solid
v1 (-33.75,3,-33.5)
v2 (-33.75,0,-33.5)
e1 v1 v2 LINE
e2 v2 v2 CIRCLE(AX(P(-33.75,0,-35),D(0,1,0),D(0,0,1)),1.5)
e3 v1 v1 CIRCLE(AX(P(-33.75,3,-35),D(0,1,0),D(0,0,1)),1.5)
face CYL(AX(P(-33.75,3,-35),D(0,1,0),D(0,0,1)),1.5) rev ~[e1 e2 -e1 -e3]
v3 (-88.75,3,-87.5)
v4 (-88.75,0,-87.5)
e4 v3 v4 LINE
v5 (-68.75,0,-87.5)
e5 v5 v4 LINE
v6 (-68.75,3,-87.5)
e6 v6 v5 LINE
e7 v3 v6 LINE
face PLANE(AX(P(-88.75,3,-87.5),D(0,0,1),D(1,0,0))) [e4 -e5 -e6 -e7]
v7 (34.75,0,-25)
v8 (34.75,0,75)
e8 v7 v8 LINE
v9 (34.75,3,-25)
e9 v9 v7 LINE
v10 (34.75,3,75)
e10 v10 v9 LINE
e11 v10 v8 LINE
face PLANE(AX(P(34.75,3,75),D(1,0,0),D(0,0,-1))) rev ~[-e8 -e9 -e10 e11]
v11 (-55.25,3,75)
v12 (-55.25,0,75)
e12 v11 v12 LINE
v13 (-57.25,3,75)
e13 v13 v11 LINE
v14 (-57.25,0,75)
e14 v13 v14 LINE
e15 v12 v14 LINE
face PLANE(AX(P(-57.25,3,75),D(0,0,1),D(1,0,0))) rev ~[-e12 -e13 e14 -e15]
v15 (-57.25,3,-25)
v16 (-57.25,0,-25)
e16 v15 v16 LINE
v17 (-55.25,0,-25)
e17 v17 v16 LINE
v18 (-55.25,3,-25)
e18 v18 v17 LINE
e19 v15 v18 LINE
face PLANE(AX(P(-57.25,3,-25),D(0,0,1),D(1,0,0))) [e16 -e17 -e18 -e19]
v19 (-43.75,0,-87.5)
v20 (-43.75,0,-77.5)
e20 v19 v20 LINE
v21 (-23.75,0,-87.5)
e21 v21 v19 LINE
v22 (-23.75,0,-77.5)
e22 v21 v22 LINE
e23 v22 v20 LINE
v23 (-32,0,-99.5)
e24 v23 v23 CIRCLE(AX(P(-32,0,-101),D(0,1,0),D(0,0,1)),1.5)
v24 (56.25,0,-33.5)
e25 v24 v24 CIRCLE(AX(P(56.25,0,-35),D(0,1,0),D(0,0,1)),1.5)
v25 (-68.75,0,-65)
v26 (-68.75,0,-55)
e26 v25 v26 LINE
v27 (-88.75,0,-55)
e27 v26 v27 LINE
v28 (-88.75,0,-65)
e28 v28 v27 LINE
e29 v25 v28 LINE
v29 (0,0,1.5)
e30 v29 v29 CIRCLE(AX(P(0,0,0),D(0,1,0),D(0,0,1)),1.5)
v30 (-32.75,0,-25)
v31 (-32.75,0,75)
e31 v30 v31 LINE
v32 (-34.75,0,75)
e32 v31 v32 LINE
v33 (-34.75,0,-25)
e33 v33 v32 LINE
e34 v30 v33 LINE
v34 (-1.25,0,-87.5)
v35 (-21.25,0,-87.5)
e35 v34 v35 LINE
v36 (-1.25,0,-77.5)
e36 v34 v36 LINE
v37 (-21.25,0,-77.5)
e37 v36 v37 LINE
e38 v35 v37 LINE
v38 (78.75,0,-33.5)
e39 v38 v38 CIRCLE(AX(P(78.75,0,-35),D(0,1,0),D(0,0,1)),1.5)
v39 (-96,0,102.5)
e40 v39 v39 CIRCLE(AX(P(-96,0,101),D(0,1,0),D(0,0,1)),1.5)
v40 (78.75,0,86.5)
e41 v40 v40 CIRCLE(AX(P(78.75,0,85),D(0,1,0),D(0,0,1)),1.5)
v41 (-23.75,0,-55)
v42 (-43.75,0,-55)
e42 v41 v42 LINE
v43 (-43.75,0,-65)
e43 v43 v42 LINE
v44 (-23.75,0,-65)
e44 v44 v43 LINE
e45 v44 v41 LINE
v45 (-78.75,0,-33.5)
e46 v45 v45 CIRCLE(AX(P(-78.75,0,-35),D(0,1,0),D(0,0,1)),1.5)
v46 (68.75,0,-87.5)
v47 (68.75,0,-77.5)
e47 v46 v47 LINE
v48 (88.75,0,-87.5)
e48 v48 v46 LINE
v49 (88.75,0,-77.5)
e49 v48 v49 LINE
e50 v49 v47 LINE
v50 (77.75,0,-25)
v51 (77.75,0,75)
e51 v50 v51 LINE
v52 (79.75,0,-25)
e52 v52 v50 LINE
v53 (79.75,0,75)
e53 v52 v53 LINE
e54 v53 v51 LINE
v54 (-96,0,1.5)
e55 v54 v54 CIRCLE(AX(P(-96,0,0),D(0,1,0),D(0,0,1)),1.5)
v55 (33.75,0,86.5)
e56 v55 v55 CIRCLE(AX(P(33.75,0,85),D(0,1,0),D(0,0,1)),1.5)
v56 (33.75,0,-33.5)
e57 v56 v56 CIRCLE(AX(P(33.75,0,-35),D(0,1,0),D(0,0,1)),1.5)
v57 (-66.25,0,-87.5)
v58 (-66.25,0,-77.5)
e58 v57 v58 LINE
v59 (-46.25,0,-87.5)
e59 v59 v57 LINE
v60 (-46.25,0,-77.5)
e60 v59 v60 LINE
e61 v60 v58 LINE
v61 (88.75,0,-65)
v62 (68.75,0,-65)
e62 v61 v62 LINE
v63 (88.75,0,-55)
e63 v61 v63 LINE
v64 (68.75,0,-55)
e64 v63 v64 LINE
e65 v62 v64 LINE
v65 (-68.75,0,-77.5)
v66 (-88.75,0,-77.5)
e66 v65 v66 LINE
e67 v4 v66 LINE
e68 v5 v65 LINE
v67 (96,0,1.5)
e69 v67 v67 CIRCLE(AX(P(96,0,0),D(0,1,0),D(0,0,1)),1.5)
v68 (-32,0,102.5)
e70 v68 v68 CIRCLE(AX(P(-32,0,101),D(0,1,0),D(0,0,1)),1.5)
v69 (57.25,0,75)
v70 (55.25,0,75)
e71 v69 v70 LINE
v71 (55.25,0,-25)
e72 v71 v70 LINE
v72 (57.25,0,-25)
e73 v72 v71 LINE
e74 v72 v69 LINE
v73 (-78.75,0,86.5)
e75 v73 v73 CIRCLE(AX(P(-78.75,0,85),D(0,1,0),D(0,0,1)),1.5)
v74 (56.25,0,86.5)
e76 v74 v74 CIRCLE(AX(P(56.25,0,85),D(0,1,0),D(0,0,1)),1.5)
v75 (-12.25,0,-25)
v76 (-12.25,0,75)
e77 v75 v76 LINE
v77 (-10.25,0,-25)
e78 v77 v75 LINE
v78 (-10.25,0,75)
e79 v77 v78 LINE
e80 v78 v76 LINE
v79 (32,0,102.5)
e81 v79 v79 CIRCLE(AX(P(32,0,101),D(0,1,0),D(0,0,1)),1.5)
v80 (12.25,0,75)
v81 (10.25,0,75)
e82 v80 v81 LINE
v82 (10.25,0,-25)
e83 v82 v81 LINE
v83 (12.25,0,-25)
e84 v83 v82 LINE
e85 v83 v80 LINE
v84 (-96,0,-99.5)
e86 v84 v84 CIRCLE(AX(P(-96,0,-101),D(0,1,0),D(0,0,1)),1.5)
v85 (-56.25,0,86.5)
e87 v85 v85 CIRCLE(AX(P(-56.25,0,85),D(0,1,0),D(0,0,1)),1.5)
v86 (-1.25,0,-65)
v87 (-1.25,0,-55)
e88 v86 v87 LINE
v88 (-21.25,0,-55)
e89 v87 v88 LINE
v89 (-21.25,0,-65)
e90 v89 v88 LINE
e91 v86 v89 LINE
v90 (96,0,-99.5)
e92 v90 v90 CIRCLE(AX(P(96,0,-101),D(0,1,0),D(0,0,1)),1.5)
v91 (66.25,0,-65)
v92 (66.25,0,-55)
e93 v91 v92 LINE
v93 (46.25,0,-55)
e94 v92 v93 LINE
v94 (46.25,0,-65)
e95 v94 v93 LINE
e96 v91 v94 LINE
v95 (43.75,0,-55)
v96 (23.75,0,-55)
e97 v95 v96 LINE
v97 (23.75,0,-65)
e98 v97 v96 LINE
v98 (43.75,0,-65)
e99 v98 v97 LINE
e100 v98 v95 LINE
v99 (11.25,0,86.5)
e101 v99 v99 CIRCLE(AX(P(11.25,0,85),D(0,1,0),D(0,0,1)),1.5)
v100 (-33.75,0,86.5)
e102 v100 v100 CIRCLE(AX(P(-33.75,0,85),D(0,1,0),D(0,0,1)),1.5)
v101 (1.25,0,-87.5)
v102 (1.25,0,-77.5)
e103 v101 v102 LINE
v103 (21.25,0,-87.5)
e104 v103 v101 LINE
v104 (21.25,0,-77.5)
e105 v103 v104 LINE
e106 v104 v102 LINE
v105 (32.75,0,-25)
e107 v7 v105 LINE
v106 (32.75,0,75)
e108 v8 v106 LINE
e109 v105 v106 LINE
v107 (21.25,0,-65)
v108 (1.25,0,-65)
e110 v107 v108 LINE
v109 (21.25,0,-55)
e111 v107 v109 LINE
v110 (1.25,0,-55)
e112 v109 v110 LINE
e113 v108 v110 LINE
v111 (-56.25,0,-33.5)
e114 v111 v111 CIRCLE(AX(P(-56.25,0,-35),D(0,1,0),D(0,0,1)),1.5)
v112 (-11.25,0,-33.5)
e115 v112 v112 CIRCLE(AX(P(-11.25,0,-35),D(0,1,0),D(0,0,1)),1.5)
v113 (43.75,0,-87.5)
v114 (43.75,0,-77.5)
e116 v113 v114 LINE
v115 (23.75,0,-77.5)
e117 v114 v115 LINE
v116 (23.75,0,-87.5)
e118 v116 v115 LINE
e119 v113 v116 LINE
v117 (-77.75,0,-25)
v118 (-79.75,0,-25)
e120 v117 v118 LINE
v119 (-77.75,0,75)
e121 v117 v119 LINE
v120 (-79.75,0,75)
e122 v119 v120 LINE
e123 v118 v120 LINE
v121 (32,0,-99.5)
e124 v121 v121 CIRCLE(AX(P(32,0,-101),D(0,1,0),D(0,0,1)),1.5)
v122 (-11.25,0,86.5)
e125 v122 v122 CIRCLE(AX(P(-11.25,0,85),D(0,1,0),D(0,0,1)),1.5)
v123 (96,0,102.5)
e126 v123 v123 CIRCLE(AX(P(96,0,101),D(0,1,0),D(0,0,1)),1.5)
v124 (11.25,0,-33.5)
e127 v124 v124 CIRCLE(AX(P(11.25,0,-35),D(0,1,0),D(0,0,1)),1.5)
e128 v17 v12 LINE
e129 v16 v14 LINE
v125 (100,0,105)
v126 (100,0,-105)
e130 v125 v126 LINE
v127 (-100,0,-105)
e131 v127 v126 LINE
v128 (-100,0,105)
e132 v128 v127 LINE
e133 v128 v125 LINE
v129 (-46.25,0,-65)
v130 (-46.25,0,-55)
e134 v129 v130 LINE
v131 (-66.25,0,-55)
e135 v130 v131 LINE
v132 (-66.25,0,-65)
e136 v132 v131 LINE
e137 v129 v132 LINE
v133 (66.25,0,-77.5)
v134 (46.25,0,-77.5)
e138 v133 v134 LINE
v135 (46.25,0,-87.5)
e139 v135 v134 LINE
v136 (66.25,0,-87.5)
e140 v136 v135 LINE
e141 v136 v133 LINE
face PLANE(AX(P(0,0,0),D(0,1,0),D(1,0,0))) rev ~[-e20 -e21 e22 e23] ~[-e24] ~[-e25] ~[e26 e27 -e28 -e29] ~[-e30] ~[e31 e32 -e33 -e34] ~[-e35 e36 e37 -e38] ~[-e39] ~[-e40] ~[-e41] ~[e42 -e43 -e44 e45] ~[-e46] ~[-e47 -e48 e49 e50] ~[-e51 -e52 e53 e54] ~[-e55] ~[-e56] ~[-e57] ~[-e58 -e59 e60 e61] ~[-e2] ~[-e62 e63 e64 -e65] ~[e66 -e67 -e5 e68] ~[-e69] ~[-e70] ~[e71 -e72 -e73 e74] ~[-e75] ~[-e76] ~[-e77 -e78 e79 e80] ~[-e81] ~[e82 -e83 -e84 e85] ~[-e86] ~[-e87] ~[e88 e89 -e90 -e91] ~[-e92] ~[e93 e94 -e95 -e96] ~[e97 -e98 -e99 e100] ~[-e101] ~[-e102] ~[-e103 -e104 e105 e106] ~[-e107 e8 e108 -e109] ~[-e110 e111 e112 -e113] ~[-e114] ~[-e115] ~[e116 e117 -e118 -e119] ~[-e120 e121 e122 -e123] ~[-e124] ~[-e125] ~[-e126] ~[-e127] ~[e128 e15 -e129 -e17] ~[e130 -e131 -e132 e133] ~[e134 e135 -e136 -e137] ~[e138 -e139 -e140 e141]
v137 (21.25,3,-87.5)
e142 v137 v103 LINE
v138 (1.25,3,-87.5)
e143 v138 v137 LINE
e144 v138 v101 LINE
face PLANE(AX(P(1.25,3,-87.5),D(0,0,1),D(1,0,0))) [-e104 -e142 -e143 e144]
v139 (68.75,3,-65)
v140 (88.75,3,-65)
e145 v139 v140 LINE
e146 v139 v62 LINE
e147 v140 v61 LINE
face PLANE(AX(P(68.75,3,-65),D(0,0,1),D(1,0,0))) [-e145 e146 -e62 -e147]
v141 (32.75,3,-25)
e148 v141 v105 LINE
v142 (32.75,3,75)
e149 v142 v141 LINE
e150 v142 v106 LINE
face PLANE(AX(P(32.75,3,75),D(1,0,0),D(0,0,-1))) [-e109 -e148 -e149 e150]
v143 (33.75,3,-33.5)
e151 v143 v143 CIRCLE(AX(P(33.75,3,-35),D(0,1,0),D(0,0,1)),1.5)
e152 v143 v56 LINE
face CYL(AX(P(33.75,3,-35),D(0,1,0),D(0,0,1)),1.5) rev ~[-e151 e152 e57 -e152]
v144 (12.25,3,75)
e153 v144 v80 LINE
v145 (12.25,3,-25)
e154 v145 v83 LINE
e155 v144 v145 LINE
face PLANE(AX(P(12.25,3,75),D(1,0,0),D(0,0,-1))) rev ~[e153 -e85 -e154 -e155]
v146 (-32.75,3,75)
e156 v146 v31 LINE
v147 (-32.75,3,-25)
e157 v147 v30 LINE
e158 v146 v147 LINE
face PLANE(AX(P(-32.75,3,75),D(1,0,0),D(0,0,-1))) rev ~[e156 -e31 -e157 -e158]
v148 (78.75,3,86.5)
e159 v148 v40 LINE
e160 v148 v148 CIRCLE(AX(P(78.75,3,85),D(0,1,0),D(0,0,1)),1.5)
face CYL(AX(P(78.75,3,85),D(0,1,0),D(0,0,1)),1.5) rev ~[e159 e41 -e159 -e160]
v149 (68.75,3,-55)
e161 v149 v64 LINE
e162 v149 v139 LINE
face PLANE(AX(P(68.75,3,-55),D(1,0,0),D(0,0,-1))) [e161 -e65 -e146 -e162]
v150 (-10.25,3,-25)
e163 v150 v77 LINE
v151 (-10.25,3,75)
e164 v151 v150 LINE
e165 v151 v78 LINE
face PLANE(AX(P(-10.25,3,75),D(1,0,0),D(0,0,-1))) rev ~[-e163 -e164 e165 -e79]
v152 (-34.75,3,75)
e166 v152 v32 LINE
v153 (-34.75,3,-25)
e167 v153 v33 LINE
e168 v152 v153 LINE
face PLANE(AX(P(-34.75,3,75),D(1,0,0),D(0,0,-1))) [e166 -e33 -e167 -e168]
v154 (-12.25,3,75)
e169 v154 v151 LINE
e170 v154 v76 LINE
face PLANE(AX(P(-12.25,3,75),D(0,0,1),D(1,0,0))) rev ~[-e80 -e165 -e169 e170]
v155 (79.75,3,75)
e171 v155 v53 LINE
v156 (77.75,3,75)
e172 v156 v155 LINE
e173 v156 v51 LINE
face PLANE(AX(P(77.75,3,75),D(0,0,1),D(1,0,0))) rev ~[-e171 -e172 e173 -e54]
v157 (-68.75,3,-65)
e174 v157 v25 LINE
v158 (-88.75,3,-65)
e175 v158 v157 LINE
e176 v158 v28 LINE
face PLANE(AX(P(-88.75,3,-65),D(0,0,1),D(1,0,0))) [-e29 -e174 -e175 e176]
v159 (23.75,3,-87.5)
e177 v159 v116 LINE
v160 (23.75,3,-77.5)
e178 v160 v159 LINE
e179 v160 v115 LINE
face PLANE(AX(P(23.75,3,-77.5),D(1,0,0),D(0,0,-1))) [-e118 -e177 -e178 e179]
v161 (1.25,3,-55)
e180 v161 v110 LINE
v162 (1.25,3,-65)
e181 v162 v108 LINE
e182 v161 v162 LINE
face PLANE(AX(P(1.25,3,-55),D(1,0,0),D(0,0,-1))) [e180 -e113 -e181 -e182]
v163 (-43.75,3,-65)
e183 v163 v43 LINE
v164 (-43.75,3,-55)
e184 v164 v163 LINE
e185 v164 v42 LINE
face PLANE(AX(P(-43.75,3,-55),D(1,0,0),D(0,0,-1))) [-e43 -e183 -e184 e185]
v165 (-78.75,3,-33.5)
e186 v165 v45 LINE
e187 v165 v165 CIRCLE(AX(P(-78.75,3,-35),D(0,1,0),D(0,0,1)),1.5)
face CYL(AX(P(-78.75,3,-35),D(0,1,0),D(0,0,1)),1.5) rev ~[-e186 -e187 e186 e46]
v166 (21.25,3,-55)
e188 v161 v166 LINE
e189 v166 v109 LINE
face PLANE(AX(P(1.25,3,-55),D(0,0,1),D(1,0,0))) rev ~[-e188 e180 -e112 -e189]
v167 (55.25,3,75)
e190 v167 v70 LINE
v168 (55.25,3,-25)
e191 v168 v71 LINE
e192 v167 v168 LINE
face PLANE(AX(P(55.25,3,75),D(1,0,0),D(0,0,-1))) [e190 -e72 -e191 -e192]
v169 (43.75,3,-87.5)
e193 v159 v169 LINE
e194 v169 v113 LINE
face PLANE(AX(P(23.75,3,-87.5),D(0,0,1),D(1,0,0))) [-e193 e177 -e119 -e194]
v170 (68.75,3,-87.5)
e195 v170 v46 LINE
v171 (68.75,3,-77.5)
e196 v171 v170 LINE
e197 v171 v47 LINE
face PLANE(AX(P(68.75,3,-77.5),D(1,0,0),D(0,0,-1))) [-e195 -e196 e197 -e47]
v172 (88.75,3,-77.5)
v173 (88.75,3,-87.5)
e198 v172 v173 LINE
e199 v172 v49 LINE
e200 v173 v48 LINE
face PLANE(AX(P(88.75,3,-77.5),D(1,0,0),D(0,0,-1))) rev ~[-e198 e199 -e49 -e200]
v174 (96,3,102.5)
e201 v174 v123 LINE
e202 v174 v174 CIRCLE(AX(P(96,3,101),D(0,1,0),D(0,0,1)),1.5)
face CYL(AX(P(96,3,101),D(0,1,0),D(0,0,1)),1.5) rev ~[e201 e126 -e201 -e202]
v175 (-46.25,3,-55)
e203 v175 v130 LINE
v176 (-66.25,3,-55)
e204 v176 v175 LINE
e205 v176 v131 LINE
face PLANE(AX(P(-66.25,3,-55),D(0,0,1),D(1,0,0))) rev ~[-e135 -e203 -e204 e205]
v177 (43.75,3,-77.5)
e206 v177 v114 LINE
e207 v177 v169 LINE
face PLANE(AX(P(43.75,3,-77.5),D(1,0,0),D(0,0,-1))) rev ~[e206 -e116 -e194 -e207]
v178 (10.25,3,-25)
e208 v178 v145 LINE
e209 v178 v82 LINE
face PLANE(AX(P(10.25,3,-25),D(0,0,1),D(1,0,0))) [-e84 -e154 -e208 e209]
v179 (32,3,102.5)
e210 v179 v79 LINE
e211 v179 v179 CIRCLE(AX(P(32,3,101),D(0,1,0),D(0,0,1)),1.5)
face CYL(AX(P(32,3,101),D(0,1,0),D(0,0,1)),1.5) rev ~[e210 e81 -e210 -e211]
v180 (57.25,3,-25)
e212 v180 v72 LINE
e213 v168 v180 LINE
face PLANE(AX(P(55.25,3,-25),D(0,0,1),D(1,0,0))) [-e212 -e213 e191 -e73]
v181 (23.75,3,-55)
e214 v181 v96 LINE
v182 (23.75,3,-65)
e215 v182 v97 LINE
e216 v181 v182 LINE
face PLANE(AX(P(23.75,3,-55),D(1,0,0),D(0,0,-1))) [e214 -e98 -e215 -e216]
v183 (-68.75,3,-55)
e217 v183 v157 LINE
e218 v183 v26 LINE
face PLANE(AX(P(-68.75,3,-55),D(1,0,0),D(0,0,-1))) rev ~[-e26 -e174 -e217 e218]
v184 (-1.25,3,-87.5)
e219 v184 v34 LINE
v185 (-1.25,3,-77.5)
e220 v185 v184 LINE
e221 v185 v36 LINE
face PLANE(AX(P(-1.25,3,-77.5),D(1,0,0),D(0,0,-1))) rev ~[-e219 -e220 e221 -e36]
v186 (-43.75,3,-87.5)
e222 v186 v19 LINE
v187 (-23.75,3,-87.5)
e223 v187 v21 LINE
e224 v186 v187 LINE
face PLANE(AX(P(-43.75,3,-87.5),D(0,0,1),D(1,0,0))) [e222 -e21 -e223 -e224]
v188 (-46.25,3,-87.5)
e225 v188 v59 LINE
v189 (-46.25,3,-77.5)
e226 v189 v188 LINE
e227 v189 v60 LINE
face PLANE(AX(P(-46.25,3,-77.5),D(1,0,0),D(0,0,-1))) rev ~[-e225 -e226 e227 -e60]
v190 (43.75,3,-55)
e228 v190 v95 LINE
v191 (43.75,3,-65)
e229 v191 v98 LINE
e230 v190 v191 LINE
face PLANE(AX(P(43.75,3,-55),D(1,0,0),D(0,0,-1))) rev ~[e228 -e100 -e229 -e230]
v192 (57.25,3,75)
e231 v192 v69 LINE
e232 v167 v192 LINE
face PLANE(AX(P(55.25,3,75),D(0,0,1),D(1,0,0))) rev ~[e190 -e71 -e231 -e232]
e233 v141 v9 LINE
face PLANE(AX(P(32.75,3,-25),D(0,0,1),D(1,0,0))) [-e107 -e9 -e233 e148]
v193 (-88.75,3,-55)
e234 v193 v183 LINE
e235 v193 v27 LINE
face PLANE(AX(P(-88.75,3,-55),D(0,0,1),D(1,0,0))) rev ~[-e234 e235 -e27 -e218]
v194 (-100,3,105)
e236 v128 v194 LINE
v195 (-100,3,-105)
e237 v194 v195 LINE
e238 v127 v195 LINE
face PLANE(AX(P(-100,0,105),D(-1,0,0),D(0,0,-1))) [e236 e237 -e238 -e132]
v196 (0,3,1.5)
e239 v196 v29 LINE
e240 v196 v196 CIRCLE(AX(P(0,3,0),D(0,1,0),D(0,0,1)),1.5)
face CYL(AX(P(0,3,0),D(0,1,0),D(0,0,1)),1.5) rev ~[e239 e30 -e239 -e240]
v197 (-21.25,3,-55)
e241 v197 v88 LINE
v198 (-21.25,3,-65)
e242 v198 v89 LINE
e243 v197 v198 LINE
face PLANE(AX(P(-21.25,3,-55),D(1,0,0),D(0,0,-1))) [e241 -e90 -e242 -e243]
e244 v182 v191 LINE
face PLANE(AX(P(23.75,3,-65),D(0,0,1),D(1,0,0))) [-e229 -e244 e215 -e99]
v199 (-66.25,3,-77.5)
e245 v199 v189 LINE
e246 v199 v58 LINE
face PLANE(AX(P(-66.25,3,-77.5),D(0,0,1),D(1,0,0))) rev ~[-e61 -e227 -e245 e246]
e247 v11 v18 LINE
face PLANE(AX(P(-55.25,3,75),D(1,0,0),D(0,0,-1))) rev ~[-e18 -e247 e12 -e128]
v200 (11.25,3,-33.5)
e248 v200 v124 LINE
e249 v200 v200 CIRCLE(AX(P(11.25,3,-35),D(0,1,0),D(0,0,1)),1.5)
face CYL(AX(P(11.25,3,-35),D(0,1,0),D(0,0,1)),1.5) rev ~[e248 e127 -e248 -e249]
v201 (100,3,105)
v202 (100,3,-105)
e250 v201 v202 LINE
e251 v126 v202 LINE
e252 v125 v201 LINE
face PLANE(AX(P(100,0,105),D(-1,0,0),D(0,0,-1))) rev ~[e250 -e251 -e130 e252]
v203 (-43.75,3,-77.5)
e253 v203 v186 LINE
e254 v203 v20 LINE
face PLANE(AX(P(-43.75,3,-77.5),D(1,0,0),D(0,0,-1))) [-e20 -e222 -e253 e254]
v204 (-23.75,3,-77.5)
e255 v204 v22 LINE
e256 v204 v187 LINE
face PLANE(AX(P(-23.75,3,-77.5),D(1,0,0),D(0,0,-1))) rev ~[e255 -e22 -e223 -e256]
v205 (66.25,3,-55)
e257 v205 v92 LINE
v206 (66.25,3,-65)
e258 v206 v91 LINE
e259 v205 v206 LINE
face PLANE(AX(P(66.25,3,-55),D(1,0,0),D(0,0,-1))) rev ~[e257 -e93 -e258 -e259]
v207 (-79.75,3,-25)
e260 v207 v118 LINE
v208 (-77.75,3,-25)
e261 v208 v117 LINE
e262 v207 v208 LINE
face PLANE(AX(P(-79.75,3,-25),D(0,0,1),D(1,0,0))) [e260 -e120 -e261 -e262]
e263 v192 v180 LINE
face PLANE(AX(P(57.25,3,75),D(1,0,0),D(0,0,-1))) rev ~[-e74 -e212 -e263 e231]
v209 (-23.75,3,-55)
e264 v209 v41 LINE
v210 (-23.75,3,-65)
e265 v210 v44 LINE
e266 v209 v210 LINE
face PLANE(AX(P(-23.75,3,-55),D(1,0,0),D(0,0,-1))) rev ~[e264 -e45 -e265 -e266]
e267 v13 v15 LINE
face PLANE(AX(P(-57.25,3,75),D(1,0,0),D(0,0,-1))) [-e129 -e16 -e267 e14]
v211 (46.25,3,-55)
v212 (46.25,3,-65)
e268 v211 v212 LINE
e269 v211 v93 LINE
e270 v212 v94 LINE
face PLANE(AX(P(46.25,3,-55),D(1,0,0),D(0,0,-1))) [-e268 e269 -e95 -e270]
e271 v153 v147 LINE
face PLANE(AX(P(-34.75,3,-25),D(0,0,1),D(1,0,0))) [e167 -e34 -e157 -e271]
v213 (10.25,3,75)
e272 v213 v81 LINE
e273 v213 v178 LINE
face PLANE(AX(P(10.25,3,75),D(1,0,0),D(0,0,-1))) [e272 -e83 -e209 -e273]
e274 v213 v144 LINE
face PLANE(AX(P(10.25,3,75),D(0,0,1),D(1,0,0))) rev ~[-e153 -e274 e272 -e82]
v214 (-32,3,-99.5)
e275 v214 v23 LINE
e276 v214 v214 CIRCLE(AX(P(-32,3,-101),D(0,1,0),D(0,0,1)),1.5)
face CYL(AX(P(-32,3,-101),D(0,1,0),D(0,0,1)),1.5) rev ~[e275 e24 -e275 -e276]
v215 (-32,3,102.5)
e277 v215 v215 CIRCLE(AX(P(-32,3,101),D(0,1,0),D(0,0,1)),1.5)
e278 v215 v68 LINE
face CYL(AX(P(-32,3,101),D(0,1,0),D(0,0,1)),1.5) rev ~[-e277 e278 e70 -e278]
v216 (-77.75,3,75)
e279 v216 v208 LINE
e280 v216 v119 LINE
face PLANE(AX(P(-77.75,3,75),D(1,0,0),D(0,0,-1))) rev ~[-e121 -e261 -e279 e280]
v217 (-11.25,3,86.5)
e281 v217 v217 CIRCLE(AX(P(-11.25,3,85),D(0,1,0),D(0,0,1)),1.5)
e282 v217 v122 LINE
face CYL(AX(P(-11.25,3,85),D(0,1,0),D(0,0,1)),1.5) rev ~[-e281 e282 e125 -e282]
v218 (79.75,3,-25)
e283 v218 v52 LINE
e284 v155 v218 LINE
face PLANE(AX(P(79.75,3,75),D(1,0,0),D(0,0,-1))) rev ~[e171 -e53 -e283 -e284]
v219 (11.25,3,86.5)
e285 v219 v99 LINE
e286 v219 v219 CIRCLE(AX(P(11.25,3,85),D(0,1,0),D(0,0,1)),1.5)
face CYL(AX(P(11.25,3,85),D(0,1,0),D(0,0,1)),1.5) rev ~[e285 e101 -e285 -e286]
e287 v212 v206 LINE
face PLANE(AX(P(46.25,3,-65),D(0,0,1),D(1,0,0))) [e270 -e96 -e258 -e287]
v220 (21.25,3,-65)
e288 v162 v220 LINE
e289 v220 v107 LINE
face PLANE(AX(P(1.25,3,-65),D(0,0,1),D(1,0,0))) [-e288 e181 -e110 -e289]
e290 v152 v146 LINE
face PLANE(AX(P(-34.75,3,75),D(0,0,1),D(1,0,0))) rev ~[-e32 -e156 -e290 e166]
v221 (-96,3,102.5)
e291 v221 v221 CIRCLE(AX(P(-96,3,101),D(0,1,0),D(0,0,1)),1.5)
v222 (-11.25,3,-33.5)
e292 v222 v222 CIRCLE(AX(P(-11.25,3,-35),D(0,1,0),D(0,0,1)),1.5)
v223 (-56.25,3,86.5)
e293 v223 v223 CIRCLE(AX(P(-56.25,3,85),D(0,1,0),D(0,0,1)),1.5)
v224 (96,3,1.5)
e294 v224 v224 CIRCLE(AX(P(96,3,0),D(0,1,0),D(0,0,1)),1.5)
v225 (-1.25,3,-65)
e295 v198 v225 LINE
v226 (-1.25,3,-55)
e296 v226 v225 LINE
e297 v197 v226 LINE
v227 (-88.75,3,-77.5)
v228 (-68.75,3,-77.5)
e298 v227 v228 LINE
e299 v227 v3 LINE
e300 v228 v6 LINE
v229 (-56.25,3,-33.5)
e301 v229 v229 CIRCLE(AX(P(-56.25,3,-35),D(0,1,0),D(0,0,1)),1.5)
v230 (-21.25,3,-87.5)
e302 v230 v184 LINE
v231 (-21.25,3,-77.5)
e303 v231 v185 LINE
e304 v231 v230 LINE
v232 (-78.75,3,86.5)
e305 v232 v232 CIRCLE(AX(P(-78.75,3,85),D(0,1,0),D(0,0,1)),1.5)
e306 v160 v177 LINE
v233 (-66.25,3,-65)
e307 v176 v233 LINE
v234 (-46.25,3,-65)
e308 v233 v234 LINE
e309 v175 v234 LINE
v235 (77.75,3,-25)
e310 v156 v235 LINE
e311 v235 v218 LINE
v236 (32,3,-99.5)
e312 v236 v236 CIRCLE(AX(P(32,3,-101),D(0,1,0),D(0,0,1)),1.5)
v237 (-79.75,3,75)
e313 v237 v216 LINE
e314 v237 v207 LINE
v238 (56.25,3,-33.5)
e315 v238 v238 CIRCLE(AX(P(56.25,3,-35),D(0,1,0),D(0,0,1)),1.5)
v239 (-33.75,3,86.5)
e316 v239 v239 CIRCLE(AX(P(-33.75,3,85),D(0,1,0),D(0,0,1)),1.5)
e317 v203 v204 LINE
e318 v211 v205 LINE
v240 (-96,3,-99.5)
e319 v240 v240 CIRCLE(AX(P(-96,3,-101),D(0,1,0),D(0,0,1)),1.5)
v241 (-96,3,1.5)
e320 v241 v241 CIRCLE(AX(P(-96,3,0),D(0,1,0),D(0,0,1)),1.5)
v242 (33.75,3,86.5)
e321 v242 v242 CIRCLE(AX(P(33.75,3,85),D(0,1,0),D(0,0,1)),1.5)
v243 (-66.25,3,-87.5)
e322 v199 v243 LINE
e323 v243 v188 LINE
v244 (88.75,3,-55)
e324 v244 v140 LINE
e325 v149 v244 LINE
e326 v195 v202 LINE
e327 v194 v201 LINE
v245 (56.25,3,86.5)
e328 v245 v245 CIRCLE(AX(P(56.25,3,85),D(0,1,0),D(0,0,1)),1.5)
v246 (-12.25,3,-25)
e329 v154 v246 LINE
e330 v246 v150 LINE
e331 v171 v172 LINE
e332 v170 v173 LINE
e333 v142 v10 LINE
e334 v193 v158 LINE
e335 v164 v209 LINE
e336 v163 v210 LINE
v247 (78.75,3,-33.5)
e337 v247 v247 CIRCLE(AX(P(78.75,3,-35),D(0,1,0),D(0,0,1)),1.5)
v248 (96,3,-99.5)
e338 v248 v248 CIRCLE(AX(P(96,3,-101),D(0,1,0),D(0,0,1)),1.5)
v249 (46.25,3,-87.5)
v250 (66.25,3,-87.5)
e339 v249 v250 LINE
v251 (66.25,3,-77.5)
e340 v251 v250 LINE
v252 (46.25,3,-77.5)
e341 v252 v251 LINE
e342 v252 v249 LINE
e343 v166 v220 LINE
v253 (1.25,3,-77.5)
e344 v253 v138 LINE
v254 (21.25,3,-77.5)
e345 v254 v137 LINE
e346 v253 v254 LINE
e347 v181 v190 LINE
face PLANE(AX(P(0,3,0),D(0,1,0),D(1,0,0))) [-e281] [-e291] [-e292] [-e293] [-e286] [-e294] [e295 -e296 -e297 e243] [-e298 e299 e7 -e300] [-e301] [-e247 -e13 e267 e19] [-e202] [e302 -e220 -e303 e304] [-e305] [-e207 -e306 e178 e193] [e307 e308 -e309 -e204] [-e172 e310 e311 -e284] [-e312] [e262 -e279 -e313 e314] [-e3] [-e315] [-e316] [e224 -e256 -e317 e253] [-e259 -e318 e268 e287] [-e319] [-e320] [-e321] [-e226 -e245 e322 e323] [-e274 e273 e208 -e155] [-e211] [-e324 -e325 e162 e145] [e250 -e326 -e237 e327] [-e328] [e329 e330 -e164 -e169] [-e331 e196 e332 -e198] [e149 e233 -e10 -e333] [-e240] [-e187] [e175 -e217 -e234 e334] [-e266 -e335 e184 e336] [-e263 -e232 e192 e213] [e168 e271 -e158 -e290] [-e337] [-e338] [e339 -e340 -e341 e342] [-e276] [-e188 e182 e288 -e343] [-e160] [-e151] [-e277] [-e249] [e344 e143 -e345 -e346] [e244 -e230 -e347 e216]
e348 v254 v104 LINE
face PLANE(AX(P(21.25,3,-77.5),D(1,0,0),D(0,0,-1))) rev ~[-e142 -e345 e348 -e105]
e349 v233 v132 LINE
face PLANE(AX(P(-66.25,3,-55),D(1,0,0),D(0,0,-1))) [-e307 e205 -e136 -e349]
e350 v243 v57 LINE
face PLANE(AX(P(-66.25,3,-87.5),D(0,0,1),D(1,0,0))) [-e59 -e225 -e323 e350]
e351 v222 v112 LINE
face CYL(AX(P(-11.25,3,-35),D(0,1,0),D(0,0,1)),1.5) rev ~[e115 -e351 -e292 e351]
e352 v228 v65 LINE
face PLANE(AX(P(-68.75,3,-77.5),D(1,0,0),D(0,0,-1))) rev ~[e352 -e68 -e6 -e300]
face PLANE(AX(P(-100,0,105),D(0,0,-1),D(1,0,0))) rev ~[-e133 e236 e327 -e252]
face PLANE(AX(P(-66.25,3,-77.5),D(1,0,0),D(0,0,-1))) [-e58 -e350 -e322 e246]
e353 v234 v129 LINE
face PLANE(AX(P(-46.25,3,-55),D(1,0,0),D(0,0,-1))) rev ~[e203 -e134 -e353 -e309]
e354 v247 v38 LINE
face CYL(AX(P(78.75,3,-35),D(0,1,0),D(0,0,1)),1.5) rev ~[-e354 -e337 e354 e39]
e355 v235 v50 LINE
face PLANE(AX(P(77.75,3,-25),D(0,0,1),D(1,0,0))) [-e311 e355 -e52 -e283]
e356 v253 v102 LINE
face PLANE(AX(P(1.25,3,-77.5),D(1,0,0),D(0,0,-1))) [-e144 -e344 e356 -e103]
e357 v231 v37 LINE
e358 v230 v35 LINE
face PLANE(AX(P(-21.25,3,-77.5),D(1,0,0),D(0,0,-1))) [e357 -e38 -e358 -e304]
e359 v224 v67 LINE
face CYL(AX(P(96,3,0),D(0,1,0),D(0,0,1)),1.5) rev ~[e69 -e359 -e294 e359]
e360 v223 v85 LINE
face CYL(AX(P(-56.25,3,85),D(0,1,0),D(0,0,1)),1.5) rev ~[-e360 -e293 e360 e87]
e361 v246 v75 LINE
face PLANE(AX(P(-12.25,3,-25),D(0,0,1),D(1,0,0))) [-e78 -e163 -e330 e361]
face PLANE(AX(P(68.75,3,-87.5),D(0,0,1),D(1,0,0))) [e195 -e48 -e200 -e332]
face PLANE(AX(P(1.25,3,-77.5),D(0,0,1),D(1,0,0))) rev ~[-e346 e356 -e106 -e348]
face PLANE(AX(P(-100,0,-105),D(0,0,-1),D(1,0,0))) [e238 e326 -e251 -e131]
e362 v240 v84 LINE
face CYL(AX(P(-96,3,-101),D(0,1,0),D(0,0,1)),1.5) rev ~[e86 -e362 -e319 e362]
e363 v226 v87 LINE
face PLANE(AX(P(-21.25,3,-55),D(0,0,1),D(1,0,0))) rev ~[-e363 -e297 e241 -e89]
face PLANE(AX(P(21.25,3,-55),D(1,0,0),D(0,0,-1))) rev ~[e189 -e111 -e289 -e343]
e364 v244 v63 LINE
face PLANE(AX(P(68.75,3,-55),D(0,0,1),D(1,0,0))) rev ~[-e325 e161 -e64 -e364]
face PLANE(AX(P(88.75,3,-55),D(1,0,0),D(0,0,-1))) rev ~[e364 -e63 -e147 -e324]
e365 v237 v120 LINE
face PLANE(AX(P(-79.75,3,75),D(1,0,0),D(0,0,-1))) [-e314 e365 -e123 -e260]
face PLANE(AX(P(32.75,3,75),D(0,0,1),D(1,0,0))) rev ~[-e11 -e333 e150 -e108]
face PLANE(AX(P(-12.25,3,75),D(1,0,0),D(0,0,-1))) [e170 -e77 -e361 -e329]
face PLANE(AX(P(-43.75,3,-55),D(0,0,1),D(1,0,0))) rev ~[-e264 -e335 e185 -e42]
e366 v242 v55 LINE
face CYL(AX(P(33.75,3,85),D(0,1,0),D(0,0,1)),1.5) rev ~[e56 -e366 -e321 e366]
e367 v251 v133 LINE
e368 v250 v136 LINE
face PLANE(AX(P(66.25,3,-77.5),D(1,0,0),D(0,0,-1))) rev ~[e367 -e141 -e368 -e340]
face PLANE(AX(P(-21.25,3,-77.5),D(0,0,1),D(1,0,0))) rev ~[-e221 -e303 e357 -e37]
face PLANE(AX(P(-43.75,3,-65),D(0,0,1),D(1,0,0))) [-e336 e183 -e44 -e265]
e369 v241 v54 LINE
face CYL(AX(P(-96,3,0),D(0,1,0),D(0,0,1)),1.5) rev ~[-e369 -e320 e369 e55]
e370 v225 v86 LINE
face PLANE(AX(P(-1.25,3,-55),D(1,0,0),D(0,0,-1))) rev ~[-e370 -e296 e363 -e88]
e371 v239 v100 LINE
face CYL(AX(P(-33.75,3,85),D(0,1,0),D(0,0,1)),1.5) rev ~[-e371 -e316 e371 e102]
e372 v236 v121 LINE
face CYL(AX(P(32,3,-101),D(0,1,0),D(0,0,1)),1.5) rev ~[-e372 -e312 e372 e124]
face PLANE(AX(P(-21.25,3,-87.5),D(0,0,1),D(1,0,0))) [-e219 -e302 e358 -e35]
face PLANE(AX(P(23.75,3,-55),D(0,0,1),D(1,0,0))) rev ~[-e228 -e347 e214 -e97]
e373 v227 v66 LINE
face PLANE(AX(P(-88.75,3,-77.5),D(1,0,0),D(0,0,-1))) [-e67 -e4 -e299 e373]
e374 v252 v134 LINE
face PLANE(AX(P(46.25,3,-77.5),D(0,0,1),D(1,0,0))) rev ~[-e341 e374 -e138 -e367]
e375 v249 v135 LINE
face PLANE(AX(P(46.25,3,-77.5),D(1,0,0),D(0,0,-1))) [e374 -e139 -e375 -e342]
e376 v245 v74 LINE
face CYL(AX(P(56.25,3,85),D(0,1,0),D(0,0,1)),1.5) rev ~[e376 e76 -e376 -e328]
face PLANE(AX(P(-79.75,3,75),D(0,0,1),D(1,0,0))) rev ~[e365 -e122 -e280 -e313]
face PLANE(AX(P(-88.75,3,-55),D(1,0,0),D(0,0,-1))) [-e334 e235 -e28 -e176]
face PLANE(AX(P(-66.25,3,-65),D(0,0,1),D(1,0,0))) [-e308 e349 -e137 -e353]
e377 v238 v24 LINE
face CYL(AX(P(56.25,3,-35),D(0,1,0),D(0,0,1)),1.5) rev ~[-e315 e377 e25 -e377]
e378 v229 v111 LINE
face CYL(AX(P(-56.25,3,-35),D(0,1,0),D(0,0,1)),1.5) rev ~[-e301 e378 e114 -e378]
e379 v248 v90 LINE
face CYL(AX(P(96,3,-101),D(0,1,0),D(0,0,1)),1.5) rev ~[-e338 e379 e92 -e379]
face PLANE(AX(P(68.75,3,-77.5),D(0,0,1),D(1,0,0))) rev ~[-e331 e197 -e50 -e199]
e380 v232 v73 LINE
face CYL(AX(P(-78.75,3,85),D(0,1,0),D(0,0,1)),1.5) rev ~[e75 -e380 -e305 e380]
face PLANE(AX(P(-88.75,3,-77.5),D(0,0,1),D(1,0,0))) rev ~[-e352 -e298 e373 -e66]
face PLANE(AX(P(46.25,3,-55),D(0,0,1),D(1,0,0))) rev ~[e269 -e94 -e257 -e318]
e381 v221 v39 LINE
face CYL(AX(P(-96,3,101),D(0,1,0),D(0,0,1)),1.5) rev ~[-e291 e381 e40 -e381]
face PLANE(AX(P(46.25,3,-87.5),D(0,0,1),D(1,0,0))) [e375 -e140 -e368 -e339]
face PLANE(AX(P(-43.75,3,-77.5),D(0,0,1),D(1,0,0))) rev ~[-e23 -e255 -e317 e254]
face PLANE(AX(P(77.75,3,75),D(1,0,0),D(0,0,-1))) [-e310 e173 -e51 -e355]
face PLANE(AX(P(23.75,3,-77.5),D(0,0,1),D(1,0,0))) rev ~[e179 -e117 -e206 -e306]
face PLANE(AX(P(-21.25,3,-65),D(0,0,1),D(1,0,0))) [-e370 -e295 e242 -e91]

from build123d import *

# Parameters (mm, degrees)
SKETCH1_W                 = 200
SKETCH1_H                 = 210
BOSS_EXTRUDE1_DEPTH       = 3
CUT_EXTRUDE1_REACH        = 147.031
SKETCH2_R                 = 1.5
SKETCH2_W                 = 2
SKETCH2_H                 = 100
LPATTERN1_COUNT           = 8
LPATTERN1_PITCH           = 22.5
CUT_EXTRUDE2_REACH        = 147.031
SKETCH3_W                 = 20
SKETCH3_H                 = 10
LPATTERN2_COUNT           = 8
LPATTERN2_PITCH           = 22.5
LPATTERN2_COUNT_DIR2      = 2
LPATTERN2_PITCH_DIR2      = 22.5
CUT_EXTRUDE3_REACH        = 147.031
SKETCH4_R                 = 1.5
LPATTERN3_COUNT           = 4
LPATTERN3_PITCH           = 64
LPATTERN4_COUNT           = 2
LPATTERN4_PITCH           = 202
LPATTERN4_COPY_1_REACH    = 147.031
LPATTERN4_COPY_1_SKETCH_R = 1.5
LPATTERN4_COPY_2_REACH    = 147.031
LPATTERN4_COPY_2_SKETCH_R = 1.5
LPATTERN4_COPY_3_REACH    = 147.031
LPATTERN4_COPY_3_SKETCH_R = 1.5
CUT_EXTRUDE4_REACH        = 147.031
SKETCH8_R                 = 1.5
CUT_EXTRUDE5_REACH        = 147.031
SKETCH9_R                 = 1.5


with BuildPart() as part:
    # Sketch1 → Boss-Extrude1 (new body)
    with BuildSketch(Plane(origin=(0, 0, 0), x_dir=(1, 0, 0), z_dir=(0, 1, 0))):
        Rectangle(SKETCH1_W, SKETCH1_H)
    extrude(amount=BOSS_EXTRUDE1_DEPTH)

    # Sketch2 → Cut-Extrude1 (cut, up to next)
    with BuildSketch(Plane(origin=(0, 3, 0), x_dir=(1, 0, 0), z_dir=(0, 1, 0)), mode=Mode.PRIVATE) as cut_extrude1_sk1:
        with Locations(Location((-78.75, -85, 0), (0, 0, 270))):
            Circle(SKETCH2_R)
    cut_extrude1_tool1 = extrude(cut_extrude1_sk1.sketch, amount=-CUT_EXTRUDE1_REACH, mode=Mode.PRIVATE) & part.part
    # Sketch2 → Cut-Extrude1 (cut, up to next)
    with BuildSketch(Plane(origin=(0, 3, 0), x_dir=(1, 0, 0), z_dir=(0, 1, 0)), mode=Mode.PRIVATE) as cut_extrude1_sk2:
        with Locations(Location((-78.75, 35, 0), (0, 0, 270))):
            Circle(SKETCH2_R)
    cut_extrude1_tool2 = extrude(cut_extrude1_sk2.sketch, amount=-CUT_EXTRUDE1_REACH, mode=Mode.PRIVATE) & part.part
    # Sketch2 → Cut-Extrude1 (cut, up to next)
    with BuildSketch(Plane(origin=(0, 3, 0), x_dir=(1, 0, 0), z_dir=(0, 1, 0)), mode=Mode.PRIVATE) as cut_extrude1_sk3:
        with Locations((-78.75, -25)):
            Rectangle(SKETCH2_W, SKETCH2_H)
    cut_extrude1_tool3 = extrude(cut_extrude1_sk3.sketch, amount=-CUT_EXTRUDE1_REACH, mode=Mode.PRIVATE) & part.part
    cut_extrude1_1 = cut_extrude1_tool1.solids().sort_by_distance((-78.75, 3, 85))[0]
    add(cut_extrude1_1, mode=Mode.SUBTRACT)
    cut_extrude1_2 = cut_extrude1_tool2.solids().sort_by_distance((-78.75, 3, -35))[0]
    add(cut_extrude1_2, mode=Mode.SUBTRACT)
    cut_extrude1_3 = cut_extrude1_tool3.solids().sort_by_distance((-78.75, 3, 25))[0]
    add(cut_extrude1_3, mode=Mode.SUBTRACT)
    cut_extrude1 = cut_extrude1_1 + cut_extrude1_2 + cut_extrude1_3  # Cut-Extrude1 as one shape, for the pattern or mirror that repeats it

    # LPattern1: Cut-Extrude1 ×8
    with Locations(*[(i * LPATTERN1_PITCH, 0, 0) for i in range(1, LPATTERN1_COUNT)]):
        add(cut_extrude1, mode=Mode.SUBTRACT)

    # Sketch3 → Cut-Extrude2 (cut, up to next)
    with BuildSketch(Plane(origin=(0, 3, 0), x_dir=(1, 0, 0), z_dir=(0, 1, 0)), mode=Mode.PRIVATE) as cut_extrude2_sk1:
        with Locations((-78.75, 60)):
            Rectangle(SKETCH3_W, SKETCH3_H)
    cut_extrude2_tool1 = extrude(cut_extrude2_sk1.sketch, amount=-CUT_EXTRUDE2_REACH, mode=Mode.PRIVATE) & part.part
    cut_extrude2 = cut_extrude2_tool1.solids().sort_by_distance((-78.75, 3, -60))[0]
    add(cut_extrude2, mode=Mode.SUBTRACT)

    # LPattern2: Cut-Extrude2 8 × 2
    with Locations(*[(i * LPATTERN2_PITCH, 0, -j * LPATTERN2_PITCH_DIR2) for i in range(LPATTERN2_COUNT) for j in range(LPATTERN2_COUNT_DIR2) if (i, j) != (0, 0)]):
        add(cut_extrude2, mode=Mode.SUBTRACT)

    # Sketch4 → Cut-Extrude3 (cut, up to next)
    with BuildSketch(Plane(origin=(0, 3, 0), x_dir=(1, 0, 0), z_dir=(0, 1, 0)), mode=Mode.PRIVATE) as cut_extrude3_sk1:
        with Locations(Location((-96, 101, 0), (0, 0, 270))):
            Circle(SKETCH4_R)
    cut_extrude3_tool1 = extrude(cut_extrude3_sk1.sketch, amount=-CUT_EXTRUDE3_REACH, mode=Mode.PRIVATE) & part.part
    cut_extrude3 = cut_extrude3_tool1.solids().sort_by_distance((-96, 3, -101))[0]
    add(cut_extrude3, mode=Mode.SUBTRACT)

    # LPattern3: Cut-Extrude3 ×4
    with Locations(*[(i * LPATTERN3_PITCH, 0, 0) for i in range(1, LPATTERN3_COUNT)]):
        add(cut_extrude3, mode=Mode.SUBTRACT)

    # LPattern4: Cut-Extrude3 ×2
    with Locations(*[(0, 0, i * LPATTERN4_PITCH) for i in range(1, LPATTERN4_COUNT)]):
        add(cut_extrude3, mode=Mode.SUBTRACT)

    # LPattern4 copy 1 sketch → LPattern4 copy 1 (cut, up to next)
    with BuildSketch(Plane(origin=(64, 3, 202), x_dir=(1, 0, 0), z_dir=(0, 1, 0)), mode=Mode.PRIVATE) as lpattern4_copy_1_sk1:
        with Locations(Location((-96, 101, 0), (0, 0, 270))):
            Circle(LPATTERN4_COPY_1_SKETCH_R)
    lpattern4_copy_1_tool1 = extrude(lpattern4_copy_1_sk1.sketch, amount=-LPATTERN4_COPY_1_REACH, mode=Mode.PRIVATE) & part.part
    add(lpattern4_copy_1_tool1.solids().sort_by_distance((-32, 3, 101))[0], mode=Mode.SUBTRACT)

    # LPattern4 copy 2 sketch → LPattern4 copy 2 (cut, up to next)
    with BuildSketch(Plane(origin=(128, 3, 202), x_dir=(1, 0, 0), z_dir=(0, 1, 0)), mode=Mode.PRIVATE) as lpattern4_copy_2_sk1:
        with Locations(Location((-96, 101, 0), (0, 0, 270))):
            Circle(LPATTERN4_COPY_2_SKETCH_R)
    lpattern4_copy_2_tool1 = extrude(lpattern4_copy_2_sk1.sketch, amount=-LPATTERN4_COPY_2_REACH, mode=Mode.PRIVATE) & part.part
    add(lpattern4_copy_2_tool1.solids().sort_by_distance((32, 3, 101))[0], mode=Mode.SUBTRACT)

    # LPattern4 copy 3 sketch → LPattern4 copy 3 (cut, up to next)
    with BuildSketch(Plane(origin=(192, 3, 202), x_dir=(1, 0, 0), z_dir=(0, 1, 0)), mode=Mode.PRIVATE) as lpattern4_copy_3_sk1:
        with Locations(Location((-96, 101, 0), (0, 0, 270))):
            Circle(LPATTERN4_COPY_3_SKETCH_R)
    lpattern4_copy_3_tool1 = extrude(lpattern4_copy_3_sk1.sketch, amount=-LPATTERN4_COPY_3_REACH, mode=Mode.PRIVATE) & part.part
    add(lpattern4_copy_3_tool1.solids().sort_by_distance((96, 3, 101))[0], mode=Mode.SUBTRACT)

    # Sketch8 → Cut-Extrude4 (cut, up to next)
    with BuildSketch(Plane(origin=(0, 3, 0), x_dir=(1, 0, 0), z_dir=(0, 1, 0)), mode=Mode.PRIVATE) as cut_extrude4_sk1:
        with Locations(Location((0, 0, 0), (0, 0, 270))):
            Circle(SKETCH8_R)
    cut_extrude4_tool1 = extrude(cut_extrude4_sk1.sketch, amount=-CUT_EXTRUDE4_REACH, mode=Mode.PRIVATE) & part.part
    add(cut_extrude4_tool1.solids().sort_by_distance((0, 3, 0))[0], mode=Mode.SUBTRACT)

    # Sketch9 → Cut-Extrude5 (cut, up to next)
    with BuildSketch(Plane(origin=(0, 3, 0), x_dir=(1, 0, 0), z_dir=(0, 1, 0)), mode=Mode.PRIVATE) as cut_extrude5_sk1:
        with Locations(Location((-96, 0, 0), (0, 0, 270))):
            Circle(SKETCH9_R)
    cut_extrude5_tool1 = extrude(cut_extrude5_sk1.sketch, amount=-CUT_EXTRUDE5_REACH, mode=Mode.PRIVATE) & part.part
    # Sketch9 → Cut-Extrude5 (cut, up to next)
    with BuildSketch(Plane(origin=(0, 3, 0), x_dir=(1, 0, 0), z_dir=(0, 1, 0)), mode=Mode.PRIVATE) as cut_extrude5_sk2:
        with Locations(Location((96, 0, 0), (0, 0, 270))):
            Circle(SKETCH9_R)
    cut_extrude5_tool2 = extrude(cut_extrude5_sk2.sketch, amount=-CUT_EXTRUDE5_REACH, mode=Mode.PRIVATE) & part.part
    add(cut_extrude5_tool1.solids().sort_by_distance((-96, 3, 0))[0], mode=Mode.SUBTRACT)
    add(cut_extrude5_tool2.solids().sort_by_distance((96, 3, 0))[0], mode=Mode.SUBTRACT)


solid = part.part
